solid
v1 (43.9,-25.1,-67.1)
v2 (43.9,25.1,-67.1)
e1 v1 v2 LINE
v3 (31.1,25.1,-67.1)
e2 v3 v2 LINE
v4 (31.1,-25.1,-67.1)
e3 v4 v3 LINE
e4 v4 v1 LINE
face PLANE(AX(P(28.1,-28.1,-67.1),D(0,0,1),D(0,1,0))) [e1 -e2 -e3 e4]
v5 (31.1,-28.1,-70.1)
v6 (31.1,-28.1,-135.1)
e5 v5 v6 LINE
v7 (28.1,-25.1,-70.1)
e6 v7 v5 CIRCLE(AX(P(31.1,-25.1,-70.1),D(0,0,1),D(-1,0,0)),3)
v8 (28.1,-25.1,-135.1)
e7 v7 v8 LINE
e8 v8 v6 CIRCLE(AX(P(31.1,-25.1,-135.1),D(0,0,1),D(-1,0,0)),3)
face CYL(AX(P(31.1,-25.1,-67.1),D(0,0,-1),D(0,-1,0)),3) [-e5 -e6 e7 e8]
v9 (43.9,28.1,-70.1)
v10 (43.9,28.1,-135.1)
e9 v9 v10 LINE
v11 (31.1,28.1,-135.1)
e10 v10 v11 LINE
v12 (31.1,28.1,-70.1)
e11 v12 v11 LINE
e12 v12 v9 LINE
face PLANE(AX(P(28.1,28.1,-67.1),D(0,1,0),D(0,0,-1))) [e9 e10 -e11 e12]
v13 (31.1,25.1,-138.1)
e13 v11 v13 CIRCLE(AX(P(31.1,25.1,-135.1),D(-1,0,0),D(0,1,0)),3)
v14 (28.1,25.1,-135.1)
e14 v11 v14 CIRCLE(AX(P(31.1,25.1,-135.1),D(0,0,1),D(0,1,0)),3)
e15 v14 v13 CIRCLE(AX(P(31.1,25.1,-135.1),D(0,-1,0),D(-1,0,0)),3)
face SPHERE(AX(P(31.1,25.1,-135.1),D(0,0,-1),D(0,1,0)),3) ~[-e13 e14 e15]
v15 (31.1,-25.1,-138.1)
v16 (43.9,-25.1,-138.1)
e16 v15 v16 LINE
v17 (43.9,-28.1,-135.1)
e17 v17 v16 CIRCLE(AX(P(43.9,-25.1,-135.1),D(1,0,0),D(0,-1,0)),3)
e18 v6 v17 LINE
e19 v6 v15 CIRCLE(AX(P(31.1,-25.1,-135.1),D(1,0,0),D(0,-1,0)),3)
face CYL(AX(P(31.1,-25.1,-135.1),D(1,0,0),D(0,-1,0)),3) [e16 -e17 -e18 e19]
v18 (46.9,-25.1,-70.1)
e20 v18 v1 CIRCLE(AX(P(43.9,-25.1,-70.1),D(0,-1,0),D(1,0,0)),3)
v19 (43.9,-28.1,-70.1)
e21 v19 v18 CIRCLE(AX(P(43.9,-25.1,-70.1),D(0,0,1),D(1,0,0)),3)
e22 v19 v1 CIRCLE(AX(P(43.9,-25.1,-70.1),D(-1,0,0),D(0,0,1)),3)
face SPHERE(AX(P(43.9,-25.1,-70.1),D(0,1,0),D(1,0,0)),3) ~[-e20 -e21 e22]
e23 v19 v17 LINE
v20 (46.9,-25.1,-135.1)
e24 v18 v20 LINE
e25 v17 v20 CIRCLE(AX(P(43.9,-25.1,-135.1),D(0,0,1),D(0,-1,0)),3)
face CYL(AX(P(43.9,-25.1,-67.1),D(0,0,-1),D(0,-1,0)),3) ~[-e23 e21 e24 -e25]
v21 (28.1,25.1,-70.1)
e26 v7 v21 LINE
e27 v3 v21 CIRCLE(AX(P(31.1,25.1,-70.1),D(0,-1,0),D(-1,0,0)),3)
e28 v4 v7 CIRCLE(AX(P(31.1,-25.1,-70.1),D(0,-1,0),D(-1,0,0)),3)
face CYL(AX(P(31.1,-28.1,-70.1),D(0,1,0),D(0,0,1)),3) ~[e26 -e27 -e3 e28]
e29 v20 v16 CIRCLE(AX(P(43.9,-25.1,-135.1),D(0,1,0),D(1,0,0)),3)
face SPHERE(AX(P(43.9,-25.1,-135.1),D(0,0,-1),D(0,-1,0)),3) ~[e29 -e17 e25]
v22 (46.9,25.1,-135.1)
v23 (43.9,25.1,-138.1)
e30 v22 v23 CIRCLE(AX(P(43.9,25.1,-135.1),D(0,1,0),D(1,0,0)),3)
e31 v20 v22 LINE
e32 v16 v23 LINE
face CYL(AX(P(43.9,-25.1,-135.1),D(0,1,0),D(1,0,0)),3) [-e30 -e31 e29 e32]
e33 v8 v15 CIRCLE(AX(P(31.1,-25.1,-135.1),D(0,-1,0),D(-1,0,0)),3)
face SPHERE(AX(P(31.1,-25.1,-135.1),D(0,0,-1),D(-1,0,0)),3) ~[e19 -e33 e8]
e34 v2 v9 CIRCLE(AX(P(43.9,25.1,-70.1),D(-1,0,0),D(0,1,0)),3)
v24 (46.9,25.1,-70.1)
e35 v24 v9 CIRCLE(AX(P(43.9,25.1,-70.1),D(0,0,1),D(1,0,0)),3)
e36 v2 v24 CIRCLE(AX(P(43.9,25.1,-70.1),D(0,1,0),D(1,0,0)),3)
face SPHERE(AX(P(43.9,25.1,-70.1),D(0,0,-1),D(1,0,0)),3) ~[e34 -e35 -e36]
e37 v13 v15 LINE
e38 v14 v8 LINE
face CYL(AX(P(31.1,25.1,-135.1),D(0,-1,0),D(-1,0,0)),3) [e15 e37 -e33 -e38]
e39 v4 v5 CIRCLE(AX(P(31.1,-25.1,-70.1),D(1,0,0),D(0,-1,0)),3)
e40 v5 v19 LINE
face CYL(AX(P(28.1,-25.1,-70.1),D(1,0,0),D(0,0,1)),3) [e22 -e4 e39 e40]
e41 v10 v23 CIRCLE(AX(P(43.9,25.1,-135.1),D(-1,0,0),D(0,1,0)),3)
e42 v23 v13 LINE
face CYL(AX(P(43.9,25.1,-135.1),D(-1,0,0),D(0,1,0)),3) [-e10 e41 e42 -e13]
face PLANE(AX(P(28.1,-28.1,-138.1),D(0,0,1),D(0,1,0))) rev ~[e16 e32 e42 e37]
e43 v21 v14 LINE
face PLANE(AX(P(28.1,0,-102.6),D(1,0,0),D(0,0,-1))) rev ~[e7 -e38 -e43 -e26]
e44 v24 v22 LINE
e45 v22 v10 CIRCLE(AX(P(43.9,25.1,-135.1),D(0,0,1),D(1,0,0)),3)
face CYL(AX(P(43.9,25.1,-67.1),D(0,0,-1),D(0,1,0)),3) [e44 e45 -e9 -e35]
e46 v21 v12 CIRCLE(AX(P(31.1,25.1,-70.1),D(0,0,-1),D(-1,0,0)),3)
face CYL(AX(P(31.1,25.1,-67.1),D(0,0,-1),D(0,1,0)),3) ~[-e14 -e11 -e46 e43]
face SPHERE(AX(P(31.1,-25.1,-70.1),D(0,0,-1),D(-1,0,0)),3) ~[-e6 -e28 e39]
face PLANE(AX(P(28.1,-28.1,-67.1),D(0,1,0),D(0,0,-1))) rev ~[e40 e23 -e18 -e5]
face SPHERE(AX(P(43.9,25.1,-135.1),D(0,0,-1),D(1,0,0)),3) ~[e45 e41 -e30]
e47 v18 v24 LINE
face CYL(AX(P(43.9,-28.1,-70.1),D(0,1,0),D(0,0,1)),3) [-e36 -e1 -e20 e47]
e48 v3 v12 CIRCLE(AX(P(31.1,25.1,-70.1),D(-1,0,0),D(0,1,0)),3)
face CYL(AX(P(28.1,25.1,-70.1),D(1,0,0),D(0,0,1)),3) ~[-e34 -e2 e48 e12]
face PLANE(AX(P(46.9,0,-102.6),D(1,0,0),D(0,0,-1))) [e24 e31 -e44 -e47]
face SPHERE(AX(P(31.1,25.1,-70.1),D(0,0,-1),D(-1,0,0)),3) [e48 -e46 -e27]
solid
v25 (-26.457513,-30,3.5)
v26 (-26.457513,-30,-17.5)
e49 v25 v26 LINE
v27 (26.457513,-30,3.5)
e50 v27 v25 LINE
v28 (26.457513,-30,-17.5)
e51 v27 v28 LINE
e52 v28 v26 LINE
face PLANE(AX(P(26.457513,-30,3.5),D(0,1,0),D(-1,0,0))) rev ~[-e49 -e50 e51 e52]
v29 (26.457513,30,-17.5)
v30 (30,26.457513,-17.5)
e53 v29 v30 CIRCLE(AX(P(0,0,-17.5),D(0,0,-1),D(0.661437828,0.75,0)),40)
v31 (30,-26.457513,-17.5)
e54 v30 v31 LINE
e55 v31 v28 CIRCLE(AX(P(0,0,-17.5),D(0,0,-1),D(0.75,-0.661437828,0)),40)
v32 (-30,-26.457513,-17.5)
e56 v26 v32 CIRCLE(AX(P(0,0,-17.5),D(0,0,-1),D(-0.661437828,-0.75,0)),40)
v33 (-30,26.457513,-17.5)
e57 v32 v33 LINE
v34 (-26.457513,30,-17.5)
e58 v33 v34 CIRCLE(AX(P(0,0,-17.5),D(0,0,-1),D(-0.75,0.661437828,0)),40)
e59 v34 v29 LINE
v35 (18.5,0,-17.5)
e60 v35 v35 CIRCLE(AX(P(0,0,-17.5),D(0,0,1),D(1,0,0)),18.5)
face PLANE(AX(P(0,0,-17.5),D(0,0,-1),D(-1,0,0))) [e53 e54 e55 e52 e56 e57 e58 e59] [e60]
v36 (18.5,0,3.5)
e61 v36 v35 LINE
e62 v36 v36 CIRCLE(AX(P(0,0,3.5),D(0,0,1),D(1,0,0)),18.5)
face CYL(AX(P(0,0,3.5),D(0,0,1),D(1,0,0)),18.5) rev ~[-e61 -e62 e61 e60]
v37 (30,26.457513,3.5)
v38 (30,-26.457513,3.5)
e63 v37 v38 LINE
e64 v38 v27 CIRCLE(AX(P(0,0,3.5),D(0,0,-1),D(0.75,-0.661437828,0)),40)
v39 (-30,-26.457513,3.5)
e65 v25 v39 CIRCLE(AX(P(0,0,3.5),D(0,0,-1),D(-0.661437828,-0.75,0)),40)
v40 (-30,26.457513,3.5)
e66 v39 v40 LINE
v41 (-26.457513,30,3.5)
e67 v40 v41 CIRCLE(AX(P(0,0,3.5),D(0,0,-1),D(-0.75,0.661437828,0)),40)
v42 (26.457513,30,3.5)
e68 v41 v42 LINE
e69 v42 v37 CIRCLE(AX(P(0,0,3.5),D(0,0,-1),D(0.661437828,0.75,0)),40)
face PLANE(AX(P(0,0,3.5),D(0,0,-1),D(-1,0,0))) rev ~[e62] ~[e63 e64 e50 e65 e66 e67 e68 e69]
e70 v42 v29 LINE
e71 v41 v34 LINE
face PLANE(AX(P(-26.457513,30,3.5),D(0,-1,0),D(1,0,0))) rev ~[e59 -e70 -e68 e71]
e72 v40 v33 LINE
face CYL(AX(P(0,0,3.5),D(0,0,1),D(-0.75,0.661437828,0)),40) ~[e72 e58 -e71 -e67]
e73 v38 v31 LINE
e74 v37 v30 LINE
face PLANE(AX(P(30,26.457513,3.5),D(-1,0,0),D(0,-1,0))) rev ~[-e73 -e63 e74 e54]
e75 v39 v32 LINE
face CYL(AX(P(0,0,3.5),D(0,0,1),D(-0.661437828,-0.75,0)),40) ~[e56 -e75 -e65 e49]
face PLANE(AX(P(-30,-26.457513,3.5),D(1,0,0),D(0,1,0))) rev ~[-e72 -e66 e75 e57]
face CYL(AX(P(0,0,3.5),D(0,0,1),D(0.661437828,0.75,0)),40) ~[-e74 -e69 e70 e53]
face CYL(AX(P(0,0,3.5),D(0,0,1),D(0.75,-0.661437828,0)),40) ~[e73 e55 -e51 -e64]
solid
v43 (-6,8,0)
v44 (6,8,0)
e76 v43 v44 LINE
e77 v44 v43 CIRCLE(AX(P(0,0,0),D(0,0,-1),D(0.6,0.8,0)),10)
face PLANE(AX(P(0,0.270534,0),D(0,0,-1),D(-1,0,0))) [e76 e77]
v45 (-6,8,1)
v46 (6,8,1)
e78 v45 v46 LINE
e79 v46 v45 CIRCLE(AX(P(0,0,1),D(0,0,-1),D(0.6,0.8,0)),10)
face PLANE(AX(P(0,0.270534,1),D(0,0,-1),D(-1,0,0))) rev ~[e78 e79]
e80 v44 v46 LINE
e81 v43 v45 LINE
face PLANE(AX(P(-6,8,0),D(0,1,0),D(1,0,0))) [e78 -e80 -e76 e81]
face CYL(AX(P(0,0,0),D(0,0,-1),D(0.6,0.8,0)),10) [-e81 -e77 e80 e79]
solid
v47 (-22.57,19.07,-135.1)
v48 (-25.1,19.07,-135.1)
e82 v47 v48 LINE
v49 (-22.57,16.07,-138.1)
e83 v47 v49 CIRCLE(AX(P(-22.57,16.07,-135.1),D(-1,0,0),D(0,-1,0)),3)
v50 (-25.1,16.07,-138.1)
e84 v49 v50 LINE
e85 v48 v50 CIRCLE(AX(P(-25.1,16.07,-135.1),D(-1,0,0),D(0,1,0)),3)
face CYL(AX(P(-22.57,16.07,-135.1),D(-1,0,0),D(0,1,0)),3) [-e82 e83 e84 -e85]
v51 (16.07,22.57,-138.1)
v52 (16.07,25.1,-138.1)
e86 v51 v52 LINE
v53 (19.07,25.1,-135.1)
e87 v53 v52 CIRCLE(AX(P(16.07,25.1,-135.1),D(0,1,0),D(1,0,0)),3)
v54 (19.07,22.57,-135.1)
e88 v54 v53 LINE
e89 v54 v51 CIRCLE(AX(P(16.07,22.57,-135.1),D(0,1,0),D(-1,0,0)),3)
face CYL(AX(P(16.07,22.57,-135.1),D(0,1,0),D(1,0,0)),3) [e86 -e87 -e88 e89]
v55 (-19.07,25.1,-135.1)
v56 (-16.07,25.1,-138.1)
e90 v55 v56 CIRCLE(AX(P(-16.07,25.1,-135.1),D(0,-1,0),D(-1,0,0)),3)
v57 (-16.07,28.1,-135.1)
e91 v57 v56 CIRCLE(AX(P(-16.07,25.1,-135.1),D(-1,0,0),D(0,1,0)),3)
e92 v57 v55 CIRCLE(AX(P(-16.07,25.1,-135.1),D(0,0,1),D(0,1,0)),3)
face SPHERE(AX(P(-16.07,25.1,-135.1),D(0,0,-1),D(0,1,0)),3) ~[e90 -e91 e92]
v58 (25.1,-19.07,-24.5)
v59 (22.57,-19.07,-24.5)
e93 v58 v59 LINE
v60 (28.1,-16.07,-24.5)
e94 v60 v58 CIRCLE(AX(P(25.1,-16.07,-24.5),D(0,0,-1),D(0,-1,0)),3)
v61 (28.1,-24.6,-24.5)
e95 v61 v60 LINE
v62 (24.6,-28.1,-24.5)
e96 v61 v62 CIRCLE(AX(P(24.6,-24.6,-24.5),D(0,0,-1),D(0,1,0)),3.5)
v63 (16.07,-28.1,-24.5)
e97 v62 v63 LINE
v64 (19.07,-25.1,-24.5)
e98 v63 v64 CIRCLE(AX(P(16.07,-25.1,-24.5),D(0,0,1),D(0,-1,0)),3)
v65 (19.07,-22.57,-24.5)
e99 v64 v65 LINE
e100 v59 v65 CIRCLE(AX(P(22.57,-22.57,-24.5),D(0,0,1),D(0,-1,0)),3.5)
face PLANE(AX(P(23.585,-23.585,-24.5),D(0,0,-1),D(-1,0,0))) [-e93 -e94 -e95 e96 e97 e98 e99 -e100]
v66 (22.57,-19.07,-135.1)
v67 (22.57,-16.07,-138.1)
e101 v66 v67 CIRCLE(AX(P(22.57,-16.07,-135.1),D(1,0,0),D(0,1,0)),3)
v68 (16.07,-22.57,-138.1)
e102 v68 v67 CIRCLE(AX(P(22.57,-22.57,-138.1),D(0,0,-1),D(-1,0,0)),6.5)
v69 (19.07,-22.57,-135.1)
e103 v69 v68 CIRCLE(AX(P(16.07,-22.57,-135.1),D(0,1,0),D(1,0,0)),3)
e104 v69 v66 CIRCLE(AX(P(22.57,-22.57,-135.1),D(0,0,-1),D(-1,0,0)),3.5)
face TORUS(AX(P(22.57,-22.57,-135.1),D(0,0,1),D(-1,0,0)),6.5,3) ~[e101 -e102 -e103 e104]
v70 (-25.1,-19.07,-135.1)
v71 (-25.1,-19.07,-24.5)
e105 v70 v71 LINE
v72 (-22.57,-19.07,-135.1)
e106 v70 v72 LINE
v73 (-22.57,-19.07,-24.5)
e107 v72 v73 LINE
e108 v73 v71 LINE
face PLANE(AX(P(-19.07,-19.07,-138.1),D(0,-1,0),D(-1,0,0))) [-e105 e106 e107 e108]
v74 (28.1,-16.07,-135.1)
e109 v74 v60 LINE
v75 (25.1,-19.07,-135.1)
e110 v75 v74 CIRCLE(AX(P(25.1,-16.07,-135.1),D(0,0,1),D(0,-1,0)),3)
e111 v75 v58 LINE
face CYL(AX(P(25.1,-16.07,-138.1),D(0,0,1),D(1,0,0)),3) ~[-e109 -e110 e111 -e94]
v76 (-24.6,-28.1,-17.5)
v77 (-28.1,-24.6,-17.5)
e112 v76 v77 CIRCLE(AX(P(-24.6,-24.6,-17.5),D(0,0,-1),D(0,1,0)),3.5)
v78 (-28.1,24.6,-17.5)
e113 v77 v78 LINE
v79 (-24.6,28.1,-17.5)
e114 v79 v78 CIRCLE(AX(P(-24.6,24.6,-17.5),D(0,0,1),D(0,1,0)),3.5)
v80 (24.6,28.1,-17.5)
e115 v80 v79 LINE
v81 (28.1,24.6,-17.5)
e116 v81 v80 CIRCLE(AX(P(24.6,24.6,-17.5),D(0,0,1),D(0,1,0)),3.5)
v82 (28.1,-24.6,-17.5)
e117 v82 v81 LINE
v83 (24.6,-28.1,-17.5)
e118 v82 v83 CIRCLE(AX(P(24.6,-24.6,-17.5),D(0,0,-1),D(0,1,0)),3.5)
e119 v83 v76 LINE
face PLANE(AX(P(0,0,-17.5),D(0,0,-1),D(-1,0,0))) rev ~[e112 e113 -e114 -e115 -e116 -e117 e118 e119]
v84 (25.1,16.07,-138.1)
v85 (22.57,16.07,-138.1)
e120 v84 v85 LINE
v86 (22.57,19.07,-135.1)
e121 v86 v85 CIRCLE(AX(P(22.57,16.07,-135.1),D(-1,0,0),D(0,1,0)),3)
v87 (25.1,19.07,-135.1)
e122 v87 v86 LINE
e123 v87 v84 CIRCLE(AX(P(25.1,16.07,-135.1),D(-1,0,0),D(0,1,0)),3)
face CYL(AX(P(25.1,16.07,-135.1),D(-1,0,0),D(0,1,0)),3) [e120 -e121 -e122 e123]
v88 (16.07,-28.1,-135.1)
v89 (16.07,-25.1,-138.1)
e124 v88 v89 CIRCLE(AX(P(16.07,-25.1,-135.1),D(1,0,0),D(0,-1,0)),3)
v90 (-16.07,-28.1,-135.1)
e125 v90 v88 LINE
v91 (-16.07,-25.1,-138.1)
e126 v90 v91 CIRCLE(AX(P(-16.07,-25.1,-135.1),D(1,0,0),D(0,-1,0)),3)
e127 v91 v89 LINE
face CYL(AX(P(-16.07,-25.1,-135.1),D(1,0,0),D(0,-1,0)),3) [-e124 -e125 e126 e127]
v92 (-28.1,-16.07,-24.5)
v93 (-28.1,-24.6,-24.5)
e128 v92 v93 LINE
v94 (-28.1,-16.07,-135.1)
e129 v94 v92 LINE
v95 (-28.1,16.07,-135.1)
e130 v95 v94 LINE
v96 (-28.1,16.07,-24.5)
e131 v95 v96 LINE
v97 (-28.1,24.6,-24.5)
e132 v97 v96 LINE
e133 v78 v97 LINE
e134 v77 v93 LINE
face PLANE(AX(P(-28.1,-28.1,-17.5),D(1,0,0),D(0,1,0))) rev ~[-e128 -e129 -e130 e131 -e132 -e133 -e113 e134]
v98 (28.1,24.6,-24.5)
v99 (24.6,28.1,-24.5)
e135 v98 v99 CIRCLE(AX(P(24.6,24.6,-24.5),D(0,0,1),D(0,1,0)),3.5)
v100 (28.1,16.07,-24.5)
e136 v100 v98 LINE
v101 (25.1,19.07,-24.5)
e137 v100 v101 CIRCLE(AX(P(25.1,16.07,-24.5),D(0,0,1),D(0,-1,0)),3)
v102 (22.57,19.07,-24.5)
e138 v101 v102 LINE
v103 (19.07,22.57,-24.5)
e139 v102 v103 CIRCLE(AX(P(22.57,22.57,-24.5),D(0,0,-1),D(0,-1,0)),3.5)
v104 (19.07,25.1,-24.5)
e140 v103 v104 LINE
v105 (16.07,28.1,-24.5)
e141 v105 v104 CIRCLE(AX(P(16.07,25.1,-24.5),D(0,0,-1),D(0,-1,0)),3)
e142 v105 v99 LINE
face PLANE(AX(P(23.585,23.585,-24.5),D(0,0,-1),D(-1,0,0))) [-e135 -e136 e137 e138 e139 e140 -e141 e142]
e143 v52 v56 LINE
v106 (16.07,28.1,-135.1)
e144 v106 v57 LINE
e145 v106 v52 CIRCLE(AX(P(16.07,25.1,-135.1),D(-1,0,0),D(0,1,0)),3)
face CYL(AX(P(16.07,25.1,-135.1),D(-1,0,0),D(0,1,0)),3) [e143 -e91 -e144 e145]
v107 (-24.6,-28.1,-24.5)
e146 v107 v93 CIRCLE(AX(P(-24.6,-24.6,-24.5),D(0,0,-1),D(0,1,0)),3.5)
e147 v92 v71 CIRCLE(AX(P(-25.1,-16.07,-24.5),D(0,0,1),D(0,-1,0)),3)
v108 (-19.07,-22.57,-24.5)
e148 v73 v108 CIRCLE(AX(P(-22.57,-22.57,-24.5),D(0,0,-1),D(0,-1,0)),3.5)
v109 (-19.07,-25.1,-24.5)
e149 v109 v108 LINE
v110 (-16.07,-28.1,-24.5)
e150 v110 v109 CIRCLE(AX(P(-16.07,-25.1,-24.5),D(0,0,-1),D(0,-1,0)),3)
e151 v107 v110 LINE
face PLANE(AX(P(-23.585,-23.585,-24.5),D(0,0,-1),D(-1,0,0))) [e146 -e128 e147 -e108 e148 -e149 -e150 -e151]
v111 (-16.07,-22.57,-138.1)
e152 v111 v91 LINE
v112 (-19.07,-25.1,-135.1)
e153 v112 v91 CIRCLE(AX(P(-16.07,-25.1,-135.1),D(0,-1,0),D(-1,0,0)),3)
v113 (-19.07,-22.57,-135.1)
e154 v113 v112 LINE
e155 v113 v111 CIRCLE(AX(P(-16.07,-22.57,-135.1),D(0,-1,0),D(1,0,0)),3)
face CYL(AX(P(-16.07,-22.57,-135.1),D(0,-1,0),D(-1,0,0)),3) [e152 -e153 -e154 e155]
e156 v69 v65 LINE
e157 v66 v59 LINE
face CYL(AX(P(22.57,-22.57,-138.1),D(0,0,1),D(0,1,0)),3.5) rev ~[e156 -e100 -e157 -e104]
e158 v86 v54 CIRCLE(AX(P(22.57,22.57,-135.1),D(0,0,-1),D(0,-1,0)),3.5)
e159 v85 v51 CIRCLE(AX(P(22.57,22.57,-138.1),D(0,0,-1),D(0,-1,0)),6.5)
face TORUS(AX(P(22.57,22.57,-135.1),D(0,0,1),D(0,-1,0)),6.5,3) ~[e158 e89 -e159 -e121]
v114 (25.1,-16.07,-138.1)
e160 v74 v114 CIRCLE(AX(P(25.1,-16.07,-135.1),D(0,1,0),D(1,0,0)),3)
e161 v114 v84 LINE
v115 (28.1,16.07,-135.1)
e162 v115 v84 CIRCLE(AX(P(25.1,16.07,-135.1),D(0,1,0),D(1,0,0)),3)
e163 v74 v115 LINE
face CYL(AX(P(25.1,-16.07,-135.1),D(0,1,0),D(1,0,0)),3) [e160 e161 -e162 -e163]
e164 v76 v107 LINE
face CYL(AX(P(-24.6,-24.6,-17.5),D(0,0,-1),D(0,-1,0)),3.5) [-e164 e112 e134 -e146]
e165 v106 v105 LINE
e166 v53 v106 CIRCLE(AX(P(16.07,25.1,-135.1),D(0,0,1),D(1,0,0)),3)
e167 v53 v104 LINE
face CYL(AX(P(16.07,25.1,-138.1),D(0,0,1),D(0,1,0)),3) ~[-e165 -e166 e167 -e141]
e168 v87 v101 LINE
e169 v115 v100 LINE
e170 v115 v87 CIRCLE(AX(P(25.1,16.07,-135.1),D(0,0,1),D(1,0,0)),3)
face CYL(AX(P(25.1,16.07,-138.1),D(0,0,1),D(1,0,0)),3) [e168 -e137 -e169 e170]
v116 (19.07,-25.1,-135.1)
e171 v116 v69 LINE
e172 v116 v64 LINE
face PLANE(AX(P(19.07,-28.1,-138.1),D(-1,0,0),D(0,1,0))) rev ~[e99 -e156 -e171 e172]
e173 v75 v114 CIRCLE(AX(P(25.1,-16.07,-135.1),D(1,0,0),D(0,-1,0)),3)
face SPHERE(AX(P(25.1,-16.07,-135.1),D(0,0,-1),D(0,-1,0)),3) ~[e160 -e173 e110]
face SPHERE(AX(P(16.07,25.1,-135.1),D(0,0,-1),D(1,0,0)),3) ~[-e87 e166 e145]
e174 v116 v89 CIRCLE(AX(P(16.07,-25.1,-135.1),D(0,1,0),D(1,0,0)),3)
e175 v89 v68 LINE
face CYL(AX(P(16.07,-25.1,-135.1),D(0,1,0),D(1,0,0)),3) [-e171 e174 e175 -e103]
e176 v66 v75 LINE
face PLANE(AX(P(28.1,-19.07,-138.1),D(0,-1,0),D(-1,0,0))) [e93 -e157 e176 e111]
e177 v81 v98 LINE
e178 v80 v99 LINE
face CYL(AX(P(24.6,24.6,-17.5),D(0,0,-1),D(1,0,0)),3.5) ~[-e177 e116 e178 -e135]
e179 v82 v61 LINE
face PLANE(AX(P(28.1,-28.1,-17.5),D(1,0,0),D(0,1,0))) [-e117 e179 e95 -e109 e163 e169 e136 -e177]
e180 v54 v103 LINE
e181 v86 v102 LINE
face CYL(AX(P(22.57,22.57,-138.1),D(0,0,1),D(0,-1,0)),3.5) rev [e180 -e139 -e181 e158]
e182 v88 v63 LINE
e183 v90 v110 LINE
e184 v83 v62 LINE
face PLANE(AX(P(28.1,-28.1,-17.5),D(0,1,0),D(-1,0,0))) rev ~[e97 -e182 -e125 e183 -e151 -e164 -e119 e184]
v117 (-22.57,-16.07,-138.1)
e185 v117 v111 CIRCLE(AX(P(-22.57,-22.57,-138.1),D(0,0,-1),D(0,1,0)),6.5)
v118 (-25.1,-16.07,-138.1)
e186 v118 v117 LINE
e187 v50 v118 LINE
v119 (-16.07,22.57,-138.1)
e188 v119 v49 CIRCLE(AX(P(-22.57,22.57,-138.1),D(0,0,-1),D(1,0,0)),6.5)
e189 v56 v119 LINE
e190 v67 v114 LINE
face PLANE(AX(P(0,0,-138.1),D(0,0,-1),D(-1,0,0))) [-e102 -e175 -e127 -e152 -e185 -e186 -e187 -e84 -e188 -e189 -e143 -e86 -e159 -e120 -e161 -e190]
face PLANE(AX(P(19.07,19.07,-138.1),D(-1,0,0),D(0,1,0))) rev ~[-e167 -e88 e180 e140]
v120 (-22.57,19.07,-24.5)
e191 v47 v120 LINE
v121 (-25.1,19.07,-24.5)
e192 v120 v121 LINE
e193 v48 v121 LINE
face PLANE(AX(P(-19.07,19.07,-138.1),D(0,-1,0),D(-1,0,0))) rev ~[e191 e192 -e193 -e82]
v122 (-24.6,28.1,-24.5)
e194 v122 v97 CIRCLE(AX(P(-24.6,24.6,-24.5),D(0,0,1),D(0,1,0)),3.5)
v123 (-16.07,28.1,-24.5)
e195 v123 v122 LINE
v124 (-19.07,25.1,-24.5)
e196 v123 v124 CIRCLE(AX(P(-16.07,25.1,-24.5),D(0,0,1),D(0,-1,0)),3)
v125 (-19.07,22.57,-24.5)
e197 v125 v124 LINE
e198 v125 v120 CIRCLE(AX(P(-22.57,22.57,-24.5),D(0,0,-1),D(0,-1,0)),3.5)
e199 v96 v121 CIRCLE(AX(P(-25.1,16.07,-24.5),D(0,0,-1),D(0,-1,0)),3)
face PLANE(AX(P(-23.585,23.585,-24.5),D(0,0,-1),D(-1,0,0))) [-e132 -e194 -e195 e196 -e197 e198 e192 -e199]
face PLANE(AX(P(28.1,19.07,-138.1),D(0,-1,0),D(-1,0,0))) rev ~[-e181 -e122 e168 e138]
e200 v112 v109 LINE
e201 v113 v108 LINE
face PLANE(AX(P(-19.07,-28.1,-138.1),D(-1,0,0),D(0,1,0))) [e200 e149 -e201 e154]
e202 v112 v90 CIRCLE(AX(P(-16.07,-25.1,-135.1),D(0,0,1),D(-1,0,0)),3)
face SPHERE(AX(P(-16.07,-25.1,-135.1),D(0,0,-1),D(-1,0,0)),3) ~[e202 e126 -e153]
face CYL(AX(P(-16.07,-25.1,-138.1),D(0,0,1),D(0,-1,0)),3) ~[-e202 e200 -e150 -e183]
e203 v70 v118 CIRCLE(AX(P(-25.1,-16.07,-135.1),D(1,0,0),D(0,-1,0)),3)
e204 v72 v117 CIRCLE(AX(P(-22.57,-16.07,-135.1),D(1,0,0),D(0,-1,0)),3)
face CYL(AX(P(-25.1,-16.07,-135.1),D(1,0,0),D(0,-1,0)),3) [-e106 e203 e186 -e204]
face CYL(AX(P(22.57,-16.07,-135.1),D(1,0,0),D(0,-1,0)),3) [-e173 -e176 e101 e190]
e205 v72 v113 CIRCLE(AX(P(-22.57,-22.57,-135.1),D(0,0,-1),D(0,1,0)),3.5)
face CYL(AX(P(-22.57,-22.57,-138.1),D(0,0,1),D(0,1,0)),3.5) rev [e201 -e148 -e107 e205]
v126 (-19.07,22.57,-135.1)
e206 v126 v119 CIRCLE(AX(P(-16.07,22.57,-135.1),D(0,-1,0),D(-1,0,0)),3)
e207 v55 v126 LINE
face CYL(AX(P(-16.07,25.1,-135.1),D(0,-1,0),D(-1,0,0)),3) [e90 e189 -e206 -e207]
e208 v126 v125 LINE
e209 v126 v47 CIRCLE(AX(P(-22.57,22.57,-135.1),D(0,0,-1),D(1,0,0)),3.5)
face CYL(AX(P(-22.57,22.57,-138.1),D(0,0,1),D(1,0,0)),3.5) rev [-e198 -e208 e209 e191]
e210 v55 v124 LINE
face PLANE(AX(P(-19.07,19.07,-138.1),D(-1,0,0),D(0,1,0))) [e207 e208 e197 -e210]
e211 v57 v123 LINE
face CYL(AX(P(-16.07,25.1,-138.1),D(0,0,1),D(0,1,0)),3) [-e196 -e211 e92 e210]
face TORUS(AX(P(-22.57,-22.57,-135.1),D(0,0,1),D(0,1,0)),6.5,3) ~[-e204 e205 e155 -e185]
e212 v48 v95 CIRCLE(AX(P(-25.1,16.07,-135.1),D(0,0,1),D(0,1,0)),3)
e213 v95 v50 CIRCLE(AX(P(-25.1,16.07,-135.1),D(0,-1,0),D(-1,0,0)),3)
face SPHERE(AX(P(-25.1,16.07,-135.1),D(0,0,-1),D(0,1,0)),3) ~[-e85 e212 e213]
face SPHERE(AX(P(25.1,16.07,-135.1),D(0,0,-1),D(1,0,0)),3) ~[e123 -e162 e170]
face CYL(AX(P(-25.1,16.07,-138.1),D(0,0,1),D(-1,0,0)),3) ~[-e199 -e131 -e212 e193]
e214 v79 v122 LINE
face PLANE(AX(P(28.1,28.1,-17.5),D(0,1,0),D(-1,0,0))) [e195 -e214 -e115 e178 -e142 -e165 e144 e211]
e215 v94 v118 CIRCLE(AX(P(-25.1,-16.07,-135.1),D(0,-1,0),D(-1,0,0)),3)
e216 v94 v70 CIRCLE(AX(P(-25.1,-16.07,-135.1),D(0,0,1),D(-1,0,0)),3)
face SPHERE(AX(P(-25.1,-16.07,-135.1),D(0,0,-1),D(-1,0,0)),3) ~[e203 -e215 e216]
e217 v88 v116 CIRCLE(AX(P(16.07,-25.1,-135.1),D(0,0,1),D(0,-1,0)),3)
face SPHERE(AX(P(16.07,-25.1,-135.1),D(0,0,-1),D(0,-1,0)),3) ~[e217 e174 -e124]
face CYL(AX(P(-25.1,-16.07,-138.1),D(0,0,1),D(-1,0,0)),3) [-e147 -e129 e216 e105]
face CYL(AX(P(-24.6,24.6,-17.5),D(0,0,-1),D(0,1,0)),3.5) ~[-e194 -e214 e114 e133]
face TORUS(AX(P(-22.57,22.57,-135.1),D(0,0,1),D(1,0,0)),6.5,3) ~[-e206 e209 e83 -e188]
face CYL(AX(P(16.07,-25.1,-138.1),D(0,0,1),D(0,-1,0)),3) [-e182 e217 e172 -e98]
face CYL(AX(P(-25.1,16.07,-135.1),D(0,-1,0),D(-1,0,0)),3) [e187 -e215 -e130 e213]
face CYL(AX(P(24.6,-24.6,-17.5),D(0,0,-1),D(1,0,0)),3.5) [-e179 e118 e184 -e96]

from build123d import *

# Parameters (mm, degrees)
BOSS_EXTRUDE1_DEPTH = 1
BOSS_EXTRUDE2_START = 3.5
SKETCH2_R           = 18.5
BOSS_EXTRUDE2_DEPTH = 21
SKETCH3_W           = 56.2
SKETCH3_H           = 56.2
BOSS_EXTRUDE3_DEPTH = 120.6
SKETCH4_W           = 9.03
SKETCH4_H           = 9.03
CUT_EXTRUDE1_DEPTH  = 113.6
FILLET1_R           = 3.5
FILLET2_R           = 3
FILLET3_R           = 3
SKETCH5_W           = 71
SKETCH5_H           = 56.2
BOSS_EXTRUDE4_DEPTH = 18.8
FILLET5_R           = 3
FILLET7_R           = 3


with BuildPart() as part:
    # Sketch1 → Boss-Extrude1 (new body)
    with BuildSketch(Plane.XY):
        with BuildLine():
            Line((-6, 8), (6, 8))
            ThreePointArc((6, 8), (0, -10), (-6, 8))
        make_face()
    extrude(amount=BOSS_EXTRUDE1_DEPTH)


with BuildPart() as body_2:
    # Sketch2 → Boss-Extrude2 (new body)
    with BuildSketch(Plane.XY.offset(BOSS_EXTRUDE2_START)):
        with BuildLine():
            Line((-26.457513111, 30), (26.457513111, 30))
            ThreePointArc((26.457513111, 30), (28.284271247, 28.284271247), (30, 26.457513111))
            Line((30, 26.457513111), (30, -26.457513111))
            ThreePointArc((30, -26.457513111), (28.284271247, -28.284271247), (26.457513111, -30))
            Line((26.457513111, -30), (-26.457513111, -30))
            ThreePointArc((-26.457513111, -30), (-28.284271247, -28.284271247), (-30, -26.457513111))
            Line((-30, -26.457513111), (-30, 26.457513111))
            ThreePointArc((-30, 26.457513111), (-28.284271247, 28.284271247), (-26.457513111, 30))
        make_face()
        Circle(SKETCH2_R, mode=Mode.SUBTRACT)
    extrude(amount=-BOSS_EXTRUDE2_DEPTH)


with BuildPart() as body_3:
    # Sketch3 → Boss-Extrude3 (new body)
    with BuildSketch(Plane(origin=(0, 0, -17.5), x_dir=(-1, 0, 0), z_dir=(0, 0, -1))):
        Rectangle(SKETCH3_W, SKETCH3_H)
    extrude(amount=BOSS_EXTRUDE3_DEPTH)

    # Sketch4 → Cut-Extrude1 (cut)
    with BuildSketch(Plane(origin=(0, 0, -138.1), x_dir=(-1, 0, 0), z_dir=(0, 0, -1))):
        with Locations((-23.585, 23.585)):
            Rectangle(SKETCH4_W, SKETCH4_H)
        with Locations((23.585, 23.585)):
            Rectangle(SKETCH4_W, SKETCH4_H)
        with Locations((23.585, -23.585)):
            Rectangle(SKETCH4_W, SKETCH4_H)
        with Locations((-23.585, -23.585)):
            Rectangle(SKETCH4_W, SKETCH4_H)
    extrude(amount=-CUT_EXTRUDE1_DEPTH, mode=Mode.SUBTRACT)

    # Fillet1
    fillet1_edges = [body_3.edges().sort_by_distance(p)[0] for p in [
        (28.1, 28.1, -21),
        (19.07, 19.07, -81.3),
        (-28.1, 28.1, -21),
        (-19.07, 19.07, -81.3),
        (-28.1, -28.1, -21),
        (-19.07, -19.07, -81.3),
        (28.1, -28.1, -21),
        (19.07, -19.07, -81.3),
    ]]
    fillet(fillet1_edges, radius=FILLET1_R)

    # Fillet2
    fillet2_edges = [body_3.edges().sort_by_distance(p)[0] for p in [
        (19.07, 28.1, -81.3),
        (28.1, 19.07, -81.3),
        (-19.07, 28.1, -81.3),
        (-28.1, 19.07, -81.3),
        (-19.07, -28.1, -81.3),
        (-28.1, -19.07, -81.3),
        (19.07, -28.1, -81.3),
        (28.1, -19.07, -81.3),
    ]]
    fillet(fillet2_edges, radius=FILLET2_R)

    # Fillet3
    fillet3_edges = [body_3.edges().sort_by_distance(p)[0] for p in [
        (19.07, -23.835, -138.1),
        (0, -28.1, -138.1),
        (-23.835, -19.07, -138.1),
        (-28.1, 0, -138.1),
        (-19.07, 23.835, -138.1),
        (0, 28.1, -138.1),
        (23.835, 19.07, -138.1),
        (28.1, 0, -138.1),
        (-18.191320344, -27.221320344, -138.1),
        (-27.221320344, -18.191320344, -138.1),
        (-27.221320344, 18.191320344, -138.1),
        (-18.191320344, 27.221320344, -138.1),
        (18.191320344, 27.221320344, -138.1),
        (27.221320344, 18.191320344, -138.1),
        (27.221320344, -18.191320344, -138.1),
        (18.191320344, -27.221320344, -138.1),
        (-23.835, 19.07, -138.1),
        (-19.07, -23.835, -138.1),
        (23.835, -19.07, -138.1),
        (19.07, 23.835, -138.1),
        (-20.095126266, 20.095126266, -138.1),
        (-20.095126266, -20.095126266, -138.1),
        (20.095126266, -20.095126266, -138.1),
        (20.095126266, 20.095126266, -138.1),
    ]]
    fillet(fillet3_edges, radius=FILLET3_R)


with BuildPart() as body_4:
    # Sketch5 → Boss-Extrude4 (new body)
    with BuildSketch(Plane(origin=(28.1, 0, 0), x_dir=(0, 0, -1), z_dir=(1, 0, 0))):
        with Locations((102.6, 0)):
            Rectangle(SKETCH5_W, SKETCH5_H)
    extrude(amount=BOSS_EXTRUDE4_DEPTH)

    # Fillet5
    fillet5_edges = [body_4.edges().sort_by_distance(p)[0] for p in [
        (46.9, 28.1, -102.6),
        (46.9, 0, -67.1),
        (28.1, 28.1, -102.6),
        (28.1, -28.1, -102.6),
        (28.1, 0, -67.1),
        (46.9, -28.1, -102.6),
        (37.5, 28.1, -67.1),
        (37.5, -28.1, -67.1),
    ]]
    fillet(fillet5_edges, radius=FILLET5_R)

    # Fillet7
    fillet7_edges = [body_4.edges().sort_by_distance(p)[0] for p in [
        (46.9, 0, -138.1),
        (37.5, 28.1, -138.1),
        (28.1, 0, -138.1),
        (37.5, -28.1, -138.1),
        (46.021320344, -27.221320344, -138.1),
        (28.978679656, -27.221320344, -138.1),
        (28.978679656, 27.221320344, -138.1),
        (46.021320344, 27.221320344, -138.1),
    ]]
    fillet(fillet7_edges, radius=FILLET7_R)


solid = Compound([part.part, body_2.part, body_3.part, body_4.part])
